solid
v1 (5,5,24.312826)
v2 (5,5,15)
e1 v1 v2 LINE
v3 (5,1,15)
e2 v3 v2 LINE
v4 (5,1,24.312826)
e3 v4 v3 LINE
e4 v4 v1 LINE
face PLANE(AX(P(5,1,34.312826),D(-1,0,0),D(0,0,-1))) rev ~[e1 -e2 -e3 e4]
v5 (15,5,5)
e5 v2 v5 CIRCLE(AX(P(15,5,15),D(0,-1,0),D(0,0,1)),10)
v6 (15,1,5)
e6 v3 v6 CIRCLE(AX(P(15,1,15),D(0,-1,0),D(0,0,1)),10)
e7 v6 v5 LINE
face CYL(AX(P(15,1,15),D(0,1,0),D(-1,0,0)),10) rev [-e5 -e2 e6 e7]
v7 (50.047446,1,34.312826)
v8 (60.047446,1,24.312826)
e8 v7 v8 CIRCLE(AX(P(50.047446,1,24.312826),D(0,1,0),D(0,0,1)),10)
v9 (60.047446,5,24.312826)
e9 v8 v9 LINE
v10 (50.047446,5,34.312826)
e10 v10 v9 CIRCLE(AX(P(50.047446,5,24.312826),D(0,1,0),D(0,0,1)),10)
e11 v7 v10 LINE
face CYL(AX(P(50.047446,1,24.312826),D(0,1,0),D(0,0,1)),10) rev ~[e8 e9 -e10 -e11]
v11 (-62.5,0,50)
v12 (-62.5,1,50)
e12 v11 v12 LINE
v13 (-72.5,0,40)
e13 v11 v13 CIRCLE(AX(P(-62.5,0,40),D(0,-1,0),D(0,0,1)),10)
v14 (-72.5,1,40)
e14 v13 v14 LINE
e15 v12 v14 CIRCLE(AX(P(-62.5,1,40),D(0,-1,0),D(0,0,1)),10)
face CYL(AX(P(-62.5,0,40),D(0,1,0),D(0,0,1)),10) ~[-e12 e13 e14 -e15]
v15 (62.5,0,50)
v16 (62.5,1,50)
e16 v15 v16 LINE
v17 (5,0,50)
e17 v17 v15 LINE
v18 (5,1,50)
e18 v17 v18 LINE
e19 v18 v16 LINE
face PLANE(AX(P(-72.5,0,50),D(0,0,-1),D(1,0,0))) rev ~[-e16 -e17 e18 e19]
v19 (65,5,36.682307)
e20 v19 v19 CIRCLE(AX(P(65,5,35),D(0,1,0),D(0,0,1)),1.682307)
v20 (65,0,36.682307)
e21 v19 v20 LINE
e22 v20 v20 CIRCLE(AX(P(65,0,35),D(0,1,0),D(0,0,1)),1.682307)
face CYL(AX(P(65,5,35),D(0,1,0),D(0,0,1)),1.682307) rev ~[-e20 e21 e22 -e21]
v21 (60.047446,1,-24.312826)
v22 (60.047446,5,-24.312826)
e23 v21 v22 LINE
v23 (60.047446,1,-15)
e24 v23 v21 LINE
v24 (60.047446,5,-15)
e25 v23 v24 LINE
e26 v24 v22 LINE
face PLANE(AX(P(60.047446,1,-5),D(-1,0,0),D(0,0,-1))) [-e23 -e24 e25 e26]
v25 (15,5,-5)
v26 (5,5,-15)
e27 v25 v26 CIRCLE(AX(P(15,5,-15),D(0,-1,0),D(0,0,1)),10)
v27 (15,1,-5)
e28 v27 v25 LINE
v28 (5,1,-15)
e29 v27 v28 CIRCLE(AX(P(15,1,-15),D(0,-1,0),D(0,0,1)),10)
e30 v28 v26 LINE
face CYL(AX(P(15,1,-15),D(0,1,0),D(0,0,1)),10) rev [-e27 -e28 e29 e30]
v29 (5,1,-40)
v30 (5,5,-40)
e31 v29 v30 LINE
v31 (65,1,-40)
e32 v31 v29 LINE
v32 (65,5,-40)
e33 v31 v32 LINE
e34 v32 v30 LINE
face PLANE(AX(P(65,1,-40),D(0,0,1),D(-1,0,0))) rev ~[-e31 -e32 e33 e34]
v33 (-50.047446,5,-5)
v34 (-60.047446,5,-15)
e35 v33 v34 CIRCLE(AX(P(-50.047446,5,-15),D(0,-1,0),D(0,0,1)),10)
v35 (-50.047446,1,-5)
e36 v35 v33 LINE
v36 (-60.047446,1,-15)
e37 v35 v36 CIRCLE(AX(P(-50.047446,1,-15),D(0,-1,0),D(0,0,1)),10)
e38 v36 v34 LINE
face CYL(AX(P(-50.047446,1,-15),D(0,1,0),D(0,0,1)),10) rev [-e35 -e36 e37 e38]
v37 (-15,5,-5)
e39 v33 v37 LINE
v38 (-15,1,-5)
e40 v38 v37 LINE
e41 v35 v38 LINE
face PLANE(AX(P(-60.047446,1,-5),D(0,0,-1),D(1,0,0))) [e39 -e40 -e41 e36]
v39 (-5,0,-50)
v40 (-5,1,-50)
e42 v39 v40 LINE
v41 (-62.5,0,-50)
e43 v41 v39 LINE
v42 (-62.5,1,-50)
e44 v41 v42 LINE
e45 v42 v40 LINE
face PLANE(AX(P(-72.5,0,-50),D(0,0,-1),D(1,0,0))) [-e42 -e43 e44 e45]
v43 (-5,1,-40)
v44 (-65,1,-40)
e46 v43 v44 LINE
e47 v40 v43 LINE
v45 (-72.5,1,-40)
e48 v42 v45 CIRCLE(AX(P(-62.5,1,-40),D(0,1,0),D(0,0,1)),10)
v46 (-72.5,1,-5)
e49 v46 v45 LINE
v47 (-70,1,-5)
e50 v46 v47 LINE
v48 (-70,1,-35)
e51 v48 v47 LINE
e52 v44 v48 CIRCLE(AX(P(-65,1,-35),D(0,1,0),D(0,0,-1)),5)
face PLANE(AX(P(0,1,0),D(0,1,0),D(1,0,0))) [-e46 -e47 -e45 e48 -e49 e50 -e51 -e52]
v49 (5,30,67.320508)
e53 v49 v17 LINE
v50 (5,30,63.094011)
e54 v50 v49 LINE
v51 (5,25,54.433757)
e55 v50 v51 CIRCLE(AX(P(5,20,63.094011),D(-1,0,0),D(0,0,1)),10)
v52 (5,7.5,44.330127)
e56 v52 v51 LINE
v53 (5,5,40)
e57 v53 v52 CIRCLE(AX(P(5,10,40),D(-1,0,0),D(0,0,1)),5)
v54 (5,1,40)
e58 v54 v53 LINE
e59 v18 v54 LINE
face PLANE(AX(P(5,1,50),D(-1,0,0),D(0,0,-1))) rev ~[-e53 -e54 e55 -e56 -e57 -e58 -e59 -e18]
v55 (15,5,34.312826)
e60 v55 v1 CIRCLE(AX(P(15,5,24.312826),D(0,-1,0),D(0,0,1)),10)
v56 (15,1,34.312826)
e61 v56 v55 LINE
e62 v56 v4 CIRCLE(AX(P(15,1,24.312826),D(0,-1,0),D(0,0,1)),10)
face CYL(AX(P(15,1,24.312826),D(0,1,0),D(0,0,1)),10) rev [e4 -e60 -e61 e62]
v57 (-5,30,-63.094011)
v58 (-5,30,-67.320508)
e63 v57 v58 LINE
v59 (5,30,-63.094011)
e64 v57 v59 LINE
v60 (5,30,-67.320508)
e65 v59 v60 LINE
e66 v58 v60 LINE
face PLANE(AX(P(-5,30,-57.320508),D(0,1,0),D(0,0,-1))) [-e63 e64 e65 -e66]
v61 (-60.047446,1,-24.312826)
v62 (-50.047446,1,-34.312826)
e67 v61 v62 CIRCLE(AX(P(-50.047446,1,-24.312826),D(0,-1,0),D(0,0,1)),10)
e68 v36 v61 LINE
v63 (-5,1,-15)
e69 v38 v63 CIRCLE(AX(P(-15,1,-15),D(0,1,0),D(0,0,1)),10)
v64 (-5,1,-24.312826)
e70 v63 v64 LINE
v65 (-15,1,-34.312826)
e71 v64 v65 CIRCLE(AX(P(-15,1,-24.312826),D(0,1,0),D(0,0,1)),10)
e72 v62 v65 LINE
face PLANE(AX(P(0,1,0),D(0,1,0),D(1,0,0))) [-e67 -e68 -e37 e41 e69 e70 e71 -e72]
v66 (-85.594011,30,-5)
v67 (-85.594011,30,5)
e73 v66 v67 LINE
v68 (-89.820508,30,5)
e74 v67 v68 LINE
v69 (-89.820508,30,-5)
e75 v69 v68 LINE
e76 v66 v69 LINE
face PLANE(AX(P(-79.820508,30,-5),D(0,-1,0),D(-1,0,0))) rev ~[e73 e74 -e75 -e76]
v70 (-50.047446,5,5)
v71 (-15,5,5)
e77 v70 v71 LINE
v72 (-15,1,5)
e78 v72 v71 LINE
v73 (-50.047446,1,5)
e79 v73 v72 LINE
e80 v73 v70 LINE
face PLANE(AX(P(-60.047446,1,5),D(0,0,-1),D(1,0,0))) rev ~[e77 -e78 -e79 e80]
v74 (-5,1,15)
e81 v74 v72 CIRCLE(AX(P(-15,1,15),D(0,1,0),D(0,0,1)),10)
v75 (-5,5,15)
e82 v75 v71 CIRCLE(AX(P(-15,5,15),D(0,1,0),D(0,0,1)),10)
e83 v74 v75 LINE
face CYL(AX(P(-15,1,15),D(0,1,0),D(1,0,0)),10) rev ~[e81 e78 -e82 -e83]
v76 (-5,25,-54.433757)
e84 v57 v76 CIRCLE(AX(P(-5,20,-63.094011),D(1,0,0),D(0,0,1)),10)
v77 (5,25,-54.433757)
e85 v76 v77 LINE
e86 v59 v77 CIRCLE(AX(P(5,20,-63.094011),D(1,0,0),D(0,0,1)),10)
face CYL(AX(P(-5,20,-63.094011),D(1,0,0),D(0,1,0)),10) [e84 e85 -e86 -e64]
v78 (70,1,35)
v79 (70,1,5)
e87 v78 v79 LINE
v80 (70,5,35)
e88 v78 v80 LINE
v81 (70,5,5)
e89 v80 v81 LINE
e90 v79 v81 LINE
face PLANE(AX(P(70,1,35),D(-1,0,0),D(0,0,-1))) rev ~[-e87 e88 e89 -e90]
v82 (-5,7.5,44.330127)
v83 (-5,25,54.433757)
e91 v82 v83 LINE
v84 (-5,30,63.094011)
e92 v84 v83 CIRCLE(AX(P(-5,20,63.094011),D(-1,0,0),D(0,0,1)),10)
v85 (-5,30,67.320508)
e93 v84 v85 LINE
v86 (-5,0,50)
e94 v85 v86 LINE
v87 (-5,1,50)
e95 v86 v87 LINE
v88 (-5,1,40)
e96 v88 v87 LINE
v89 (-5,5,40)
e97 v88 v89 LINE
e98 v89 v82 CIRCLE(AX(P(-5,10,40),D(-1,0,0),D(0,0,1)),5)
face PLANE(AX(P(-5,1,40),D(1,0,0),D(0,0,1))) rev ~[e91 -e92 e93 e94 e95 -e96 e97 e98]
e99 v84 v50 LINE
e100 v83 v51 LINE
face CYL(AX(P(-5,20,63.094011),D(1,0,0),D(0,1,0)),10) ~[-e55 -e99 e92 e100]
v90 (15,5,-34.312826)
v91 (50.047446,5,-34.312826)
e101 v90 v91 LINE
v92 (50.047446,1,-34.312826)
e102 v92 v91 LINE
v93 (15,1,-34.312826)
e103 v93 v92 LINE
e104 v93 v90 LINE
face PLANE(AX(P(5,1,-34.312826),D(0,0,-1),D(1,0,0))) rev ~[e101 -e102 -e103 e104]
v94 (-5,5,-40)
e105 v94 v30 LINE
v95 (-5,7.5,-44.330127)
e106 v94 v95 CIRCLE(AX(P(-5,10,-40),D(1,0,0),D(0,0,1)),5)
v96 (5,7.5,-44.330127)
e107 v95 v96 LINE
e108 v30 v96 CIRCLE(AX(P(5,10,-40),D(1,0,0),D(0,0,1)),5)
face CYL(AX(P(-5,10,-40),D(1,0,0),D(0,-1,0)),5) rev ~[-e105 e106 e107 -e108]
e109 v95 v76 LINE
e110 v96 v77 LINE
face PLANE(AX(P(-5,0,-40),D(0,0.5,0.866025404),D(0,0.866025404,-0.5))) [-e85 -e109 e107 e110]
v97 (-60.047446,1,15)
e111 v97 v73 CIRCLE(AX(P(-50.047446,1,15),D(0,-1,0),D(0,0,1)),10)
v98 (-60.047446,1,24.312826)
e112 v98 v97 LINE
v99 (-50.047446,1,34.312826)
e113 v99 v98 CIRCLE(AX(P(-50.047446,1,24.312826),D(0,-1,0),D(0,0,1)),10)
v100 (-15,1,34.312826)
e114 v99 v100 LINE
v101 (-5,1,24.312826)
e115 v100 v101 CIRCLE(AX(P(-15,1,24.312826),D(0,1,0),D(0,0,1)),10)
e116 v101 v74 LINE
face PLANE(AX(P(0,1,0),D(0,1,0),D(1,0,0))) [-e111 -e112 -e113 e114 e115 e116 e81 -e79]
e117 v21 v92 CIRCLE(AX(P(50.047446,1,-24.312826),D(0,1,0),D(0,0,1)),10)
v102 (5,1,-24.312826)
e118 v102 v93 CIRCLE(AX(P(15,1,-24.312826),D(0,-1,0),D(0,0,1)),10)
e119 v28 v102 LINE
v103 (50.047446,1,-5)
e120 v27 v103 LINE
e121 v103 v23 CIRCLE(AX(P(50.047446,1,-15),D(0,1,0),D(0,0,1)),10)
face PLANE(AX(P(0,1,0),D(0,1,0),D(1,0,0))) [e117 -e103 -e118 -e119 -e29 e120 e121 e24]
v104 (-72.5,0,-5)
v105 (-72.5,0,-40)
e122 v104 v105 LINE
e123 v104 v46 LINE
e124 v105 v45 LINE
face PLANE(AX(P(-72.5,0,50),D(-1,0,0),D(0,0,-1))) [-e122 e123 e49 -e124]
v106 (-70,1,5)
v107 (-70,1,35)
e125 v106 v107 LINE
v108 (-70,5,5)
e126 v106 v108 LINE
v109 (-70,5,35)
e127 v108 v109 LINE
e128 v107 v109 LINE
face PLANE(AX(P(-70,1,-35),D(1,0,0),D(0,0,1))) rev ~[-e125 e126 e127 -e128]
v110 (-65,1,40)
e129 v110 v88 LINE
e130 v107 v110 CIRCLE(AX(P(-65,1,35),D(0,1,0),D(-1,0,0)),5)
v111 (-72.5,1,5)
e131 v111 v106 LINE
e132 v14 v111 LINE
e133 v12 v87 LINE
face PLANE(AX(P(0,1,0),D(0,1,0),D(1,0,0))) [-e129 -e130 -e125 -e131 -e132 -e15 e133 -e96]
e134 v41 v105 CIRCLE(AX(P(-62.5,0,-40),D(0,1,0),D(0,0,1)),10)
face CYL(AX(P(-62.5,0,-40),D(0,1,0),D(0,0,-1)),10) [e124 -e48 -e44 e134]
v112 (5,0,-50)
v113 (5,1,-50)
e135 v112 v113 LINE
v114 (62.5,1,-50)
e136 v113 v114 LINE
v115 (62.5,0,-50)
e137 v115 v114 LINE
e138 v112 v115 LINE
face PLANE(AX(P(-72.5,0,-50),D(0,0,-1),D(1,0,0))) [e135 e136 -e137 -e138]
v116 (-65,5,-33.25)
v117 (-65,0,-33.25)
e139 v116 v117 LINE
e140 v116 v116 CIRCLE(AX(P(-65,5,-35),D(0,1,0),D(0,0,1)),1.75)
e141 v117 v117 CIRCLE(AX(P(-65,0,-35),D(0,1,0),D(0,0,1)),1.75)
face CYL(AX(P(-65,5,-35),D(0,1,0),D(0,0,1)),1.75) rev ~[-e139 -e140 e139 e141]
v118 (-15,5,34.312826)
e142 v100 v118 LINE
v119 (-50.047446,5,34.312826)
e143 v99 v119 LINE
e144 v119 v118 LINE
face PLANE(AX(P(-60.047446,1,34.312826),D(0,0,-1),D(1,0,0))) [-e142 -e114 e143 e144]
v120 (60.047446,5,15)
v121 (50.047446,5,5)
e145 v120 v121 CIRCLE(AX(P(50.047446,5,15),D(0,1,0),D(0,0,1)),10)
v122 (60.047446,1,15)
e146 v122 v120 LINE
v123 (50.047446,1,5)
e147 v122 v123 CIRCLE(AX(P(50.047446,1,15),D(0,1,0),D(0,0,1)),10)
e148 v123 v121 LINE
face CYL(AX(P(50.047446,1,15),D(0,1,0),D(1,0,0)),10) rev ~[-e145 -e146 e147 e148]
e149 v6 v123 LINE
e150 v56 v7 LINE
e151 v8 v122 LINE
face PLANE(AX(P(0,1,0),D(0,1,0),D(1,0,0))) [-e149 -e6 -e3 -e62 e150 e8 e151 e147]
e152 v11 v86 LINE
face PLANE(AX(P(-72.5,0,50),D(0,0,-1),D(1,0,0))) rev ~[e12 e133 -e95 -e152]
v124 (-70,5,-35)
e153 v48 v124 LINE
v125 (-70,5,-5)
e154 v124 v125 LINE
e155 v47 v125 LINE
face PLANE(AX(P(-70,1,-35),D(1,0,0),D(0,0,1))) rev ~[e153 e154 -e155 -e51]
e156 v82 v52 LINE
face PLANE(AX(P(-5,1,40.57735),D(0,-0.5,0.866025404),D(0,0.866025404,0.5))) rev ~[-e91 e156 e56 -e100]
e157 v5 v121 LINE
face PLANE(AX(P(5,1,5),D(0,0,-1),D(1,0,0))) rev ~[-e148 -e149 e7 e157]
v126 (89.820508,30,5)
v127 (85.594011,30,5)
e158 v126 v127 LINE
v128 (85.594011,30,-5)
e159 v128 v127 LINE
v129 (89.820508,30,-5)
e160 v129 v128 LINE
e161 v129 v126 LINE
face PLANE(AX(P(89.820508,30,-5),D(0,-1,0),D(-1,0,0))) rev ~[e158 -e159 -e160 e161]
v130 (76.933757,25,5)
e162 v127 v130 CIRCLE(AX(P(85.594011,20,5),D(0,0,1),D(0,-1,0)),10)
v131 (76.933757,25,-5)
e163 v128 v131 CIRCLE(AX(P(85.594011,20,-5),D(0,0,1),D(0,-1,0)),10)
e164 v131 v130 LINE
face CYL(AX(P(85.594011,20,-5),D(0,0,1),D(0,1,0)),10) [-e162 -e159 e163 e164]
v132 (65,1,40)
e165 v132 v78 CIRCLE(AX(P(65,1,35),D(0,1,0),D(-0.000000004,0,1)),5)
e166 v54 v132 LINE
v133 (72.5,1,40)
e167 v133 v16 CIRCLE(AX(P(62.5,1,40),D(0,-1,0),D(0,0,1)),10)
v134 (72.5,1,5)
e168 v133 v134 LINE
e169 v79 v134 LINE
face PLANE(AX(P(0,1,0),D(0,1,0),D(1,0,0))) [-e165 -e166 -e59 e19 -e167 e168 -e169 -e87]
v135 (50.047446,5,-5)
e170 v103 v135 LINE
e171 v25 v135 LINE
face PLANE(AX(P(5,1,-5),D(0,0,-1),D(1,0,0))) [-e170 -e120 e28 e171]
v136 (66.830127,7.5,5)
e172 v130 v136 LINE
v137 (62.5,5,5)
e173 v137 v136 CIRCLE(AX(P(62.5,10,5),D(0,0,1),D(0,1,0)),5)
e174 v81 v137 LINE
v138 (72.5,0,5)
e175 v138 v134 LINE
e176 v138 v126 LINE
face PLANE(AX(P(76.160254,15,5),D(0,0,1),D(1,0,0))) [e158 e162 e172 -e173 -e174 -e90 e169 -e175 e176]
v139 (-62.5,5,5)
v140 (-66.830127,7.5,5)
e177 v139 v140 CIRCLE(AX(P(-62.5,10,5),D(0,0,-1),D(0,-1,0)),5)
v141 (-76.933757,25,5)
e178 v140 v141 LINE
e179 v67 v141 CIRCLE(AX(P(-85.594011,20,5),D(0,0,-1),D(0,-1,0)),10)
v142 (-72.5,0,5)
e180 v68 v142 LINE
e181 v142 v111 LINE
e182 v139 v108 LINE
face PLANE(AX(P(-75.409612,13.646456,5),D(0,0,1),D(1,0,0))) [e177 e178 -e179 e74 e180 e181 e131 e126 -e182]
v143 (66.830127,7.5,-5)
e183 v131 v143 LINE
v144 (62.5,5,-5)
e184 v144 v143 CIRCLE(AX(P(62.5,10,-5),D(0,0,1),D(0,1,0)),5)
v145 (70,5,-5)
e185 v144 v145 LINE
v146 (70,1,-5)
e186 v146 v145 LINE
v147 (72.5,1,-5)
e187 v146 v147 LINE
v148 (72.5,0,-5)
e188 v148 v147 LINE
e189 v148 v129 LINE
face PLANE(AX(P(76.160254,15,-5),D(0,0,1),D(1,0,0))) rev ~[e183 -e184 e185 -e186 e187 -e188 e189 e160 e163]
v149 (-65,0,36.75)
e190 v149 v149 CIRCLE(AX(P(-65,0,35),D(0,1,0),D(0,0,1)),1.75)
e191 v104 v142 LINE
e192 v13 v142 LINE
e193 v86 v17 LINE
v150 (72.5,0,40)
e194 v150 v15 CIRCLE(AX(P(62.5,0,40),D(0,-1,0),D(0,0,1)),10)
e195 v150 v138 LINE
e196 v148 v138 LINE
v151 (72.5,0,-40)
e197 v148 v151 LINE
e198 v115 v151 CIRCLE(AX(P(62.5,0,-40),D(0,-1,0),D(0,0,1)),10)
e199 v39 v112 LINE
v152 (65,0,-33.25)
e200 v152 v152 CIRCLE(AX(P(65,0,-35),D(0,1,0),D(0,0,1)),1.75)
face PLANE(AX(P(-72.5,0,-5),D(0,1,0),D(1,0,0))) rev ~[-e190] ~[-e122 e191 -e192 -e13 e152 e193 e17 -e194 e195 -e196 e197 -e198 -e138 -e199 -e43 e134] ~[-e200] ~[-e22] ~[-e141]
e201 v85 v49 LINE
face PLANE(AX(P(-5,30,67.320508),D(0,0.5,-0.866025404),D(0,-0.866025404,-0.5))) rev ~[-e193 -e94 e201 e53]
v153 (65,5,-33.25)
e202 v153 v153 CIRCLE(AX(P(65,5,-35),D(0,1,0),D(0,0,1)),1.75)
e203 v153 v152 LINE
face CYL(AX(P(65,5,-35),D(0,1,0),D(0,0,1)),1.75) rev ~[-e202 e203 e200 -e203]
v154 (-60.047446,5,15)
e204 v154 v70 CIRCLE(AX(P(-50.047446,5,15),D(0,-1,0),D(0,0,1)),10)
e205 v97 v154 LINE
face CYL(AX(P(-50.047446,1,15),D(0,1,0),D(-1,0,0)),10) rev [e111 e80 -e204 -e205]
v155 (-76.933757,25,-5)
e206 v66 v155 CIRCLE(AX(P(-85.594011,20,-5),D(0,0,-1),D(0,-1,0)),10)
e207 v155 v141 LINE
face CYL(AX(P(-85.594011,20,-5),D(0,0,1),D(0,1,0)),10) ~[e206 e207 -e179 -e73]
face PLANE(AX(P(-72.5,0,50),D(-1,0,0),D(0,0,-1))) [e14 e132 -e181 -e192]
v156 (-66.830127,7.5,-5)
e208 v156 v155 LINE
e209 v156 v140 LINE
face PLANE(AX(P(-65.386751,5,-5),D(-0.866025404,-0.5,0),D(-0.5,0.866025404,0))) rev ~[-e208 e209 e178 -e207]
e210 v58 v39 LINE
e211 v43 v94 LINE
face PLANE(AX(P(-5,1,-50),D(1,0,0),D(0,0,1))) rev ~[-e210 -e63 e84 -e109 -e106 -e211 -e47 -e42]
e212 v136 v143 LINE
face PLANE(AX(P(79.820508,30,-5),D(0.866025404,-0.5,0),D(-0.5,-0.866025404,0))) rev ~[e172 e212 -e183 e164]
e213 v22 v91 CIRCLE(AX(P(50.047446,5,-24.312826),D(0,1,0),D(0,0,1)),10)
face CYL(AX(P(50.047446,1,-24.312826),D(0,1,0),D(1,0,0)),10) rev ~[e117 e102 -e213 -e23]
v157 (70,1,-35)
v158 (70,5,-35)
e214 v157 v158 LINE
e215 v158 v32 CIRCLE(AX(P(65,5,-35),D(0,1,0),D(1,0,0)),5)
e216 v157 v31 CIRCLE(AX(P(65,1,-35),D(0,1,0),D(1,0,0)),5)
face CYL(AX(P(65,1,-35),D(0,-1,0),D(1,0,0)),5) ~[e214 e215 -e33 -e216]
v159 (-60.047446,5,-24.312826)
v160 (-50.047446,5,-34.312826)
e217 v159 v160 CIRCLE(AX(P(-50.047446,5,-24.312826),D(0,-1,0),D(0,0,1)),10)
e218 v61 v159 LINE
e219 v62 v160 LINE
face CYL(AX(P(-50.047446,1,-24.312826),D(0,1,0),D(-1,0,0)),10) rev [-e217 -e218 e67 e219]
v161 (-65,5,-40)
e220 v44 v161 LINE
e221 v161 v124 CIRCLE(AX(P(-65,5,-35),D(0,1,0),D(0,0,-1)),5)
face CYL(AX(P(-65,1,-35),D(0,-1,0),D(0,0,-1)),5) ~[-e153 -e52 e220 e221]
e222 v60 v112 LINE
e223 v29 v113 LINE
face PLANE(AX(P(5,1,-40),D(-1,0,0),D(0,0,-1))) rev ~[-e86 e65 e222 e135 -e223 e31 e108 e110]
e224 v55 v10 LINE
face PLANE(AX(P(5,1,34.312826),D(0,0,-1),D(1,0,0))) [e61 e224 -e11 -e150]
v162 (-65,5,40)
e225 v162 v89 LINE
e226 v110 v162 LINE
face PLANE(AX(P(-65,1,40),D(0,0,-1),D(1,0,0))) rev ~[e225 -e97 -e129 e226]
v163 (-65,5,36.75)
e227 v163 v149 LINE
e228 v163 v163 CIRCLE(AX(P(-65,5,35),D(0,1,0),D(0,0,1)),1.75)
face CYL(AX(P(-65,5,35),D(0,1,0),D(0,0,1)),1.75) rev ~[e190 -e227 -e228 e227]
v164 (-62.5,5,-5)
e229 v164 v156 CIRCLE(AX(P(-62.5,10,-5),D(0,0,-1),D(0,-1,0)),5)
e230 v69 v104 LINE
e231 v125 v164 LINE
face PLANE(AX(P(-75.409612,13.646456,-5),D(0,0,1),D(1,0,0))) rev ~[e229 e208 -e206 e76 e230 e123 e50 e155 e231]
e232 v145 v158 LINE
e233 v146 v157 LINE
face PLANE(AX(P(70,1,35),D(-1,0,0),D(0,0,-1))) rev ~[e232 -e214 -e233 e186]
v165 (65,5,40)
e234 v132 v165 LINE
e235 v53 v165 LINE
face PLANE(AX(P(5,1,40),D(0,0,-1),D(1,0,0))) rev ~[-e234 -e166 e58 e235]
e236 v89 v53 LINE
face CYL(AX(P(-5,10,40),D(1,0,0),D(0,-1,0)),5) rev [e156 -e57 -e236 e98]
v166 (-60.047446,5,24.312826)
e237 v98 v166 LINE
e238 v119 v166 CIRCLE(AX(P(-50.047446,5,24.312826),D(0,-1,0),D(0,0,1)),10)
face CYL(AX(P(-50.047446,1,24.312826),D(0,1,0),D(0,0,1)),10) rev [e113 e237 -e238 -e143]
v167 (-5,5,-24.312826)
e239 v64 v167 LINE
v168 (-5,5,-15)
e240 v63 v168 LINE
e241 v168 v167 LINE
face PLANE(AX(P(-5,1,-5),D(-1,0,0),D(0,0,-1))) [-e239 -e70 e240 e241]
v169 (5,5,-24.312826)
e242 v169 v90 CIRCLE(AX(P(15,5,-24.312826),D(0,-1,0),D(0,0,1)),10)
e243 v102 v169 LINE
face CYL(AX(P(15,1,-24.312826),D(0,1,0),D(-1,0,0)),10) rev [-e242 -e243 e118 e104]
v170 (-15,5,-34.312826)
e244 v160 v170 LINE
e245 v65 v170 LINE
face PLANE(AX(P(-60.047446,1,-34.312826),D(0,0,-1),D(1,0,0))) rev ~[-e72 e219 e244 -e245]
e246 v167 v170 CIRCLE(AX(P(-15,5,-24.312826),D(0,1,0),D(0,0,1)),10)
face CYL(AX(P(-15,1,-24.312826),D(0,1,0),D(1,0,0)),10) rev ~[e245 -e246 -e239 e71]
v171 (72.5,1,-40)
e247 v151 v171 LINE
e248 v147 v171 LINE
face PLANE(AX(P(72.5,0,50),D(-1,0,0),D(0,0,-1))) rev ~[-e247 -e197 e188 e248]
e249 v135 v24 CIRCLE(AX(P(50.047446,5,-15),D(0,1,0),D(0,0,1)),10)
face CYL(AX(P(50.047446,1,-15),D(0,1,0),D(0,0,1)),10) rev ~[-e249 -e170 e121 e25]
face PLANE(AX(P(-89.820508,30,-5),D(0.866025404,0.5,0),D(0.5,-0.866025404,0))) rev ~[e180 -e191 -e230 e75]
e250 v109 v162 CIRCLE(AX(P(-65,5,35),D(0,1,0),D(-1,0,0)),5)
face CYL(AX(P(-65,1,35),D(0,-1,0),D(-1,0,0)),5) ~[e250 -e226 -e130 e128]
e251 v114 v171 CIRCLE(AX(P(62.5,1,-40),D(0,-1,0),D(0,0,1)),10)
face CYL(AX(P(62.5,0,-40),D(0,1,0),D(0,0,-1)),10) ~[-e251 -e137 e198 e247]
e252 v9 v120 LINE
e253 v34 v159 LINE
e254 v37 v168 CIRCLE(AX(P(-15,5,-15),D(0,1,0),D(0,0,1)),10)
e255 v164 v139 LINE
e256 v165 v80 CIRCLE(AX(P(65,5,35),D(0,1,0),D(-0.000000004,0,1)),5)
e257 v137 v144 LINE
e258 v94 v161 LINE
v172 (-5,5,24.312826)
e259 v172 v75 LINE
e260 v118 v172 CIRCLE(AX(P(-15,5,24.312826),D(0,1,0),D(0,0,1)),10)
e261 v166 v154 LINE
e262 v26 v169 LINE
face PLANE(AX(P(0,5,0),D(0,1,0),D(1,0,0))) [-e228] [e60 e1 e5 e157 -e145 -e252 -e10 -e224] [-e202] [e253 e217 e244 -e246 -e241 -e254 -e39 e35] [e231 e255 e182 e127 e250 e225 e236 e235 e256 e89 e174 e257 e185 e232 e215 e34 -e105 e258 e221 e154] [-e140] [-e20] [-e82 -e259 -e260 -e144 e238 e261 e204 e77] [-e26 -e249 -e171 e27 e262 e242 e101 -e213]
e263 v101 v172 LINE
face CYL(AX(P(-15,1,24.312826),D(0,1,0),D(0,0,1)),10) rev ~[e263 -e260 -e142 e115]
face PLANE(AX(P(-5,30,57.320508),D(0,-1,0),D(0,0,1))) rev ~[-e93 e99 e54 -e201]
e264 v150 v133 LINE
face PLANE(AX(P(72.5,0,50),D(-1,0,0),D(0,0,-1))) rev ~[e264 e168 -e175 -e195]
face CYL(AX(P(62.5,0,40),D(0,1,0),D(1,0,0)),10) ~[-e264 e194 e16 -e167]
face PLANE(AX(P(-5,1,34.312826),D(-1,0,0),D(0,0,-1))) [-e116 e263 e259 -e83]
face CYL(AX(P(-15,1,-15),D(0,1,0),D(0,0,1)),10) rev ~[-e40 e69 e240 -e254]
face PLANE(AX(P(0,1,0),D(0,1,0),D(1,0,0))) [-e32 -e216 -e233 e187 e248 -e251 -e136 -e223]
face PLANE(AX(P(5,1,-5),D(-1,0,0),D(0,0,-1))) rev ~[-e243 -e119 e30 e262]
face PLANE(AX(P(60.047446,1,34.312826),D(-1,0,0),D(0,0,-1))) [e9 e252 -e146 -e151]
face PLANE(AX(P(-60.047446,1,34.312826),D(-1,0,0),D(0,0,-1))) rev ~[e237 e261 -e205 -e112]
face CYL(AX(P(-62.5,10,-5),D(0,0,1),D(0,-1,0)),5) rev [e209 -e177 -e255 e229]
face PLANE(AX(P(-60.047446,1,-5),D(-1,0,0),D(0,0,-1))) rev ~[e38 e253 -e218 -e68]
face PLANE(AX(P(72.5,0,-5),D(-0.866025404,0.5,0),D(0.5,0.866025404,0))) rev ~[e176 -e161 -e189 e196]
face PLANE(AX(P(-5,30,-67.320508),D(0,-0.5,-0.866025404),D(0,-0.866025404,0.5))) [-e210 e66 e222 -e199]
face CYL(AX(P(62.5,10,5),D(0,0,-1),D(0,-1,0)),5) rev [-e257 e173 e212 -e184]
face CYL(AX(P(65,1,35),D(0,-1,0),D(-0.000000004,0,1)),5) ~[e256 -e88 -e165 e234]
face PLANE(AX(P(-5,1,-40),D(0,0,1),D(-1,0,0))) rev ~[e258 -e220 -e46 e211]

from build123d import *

# Parameters (mm, degrees)
SKETCH_1_W           = 145
SKETCH_1_H           = 100
EXTRUDE_1_DEPTH      = 1
SKETCH_2_W           = 55.047445891
SKETCH_2_H           = 29.312826224
EXTRUDE_2_DEPTH      = 4
SKETCH_3_R           = 1.75
SKETCH_3_R_2         = 1.682307007
CUT_EXTRUDE_1_DEPTH  = 89.211393822
EXTRUDE_3_DEPTH      = 5
EXTRUDE_3_DEPTH_BACK = 5
EXTRUDE_4_DEPTH      = 5
EXTRUDE_4_DEPTH_BACK = 5
FILLET_1_R           = 10
FILLET_3_R           = 10
FILLET_4_R           = 5
FILLET_5_R           = 10


with BuildPart() as part:
    # Эскиз1 → Бобышка-Вытянуть1 (new body)
    with BuildSketch(Plane(origin=(0, 0, 0), x_dir=(1, 0, 0), z_dir=(0, 1, 0))):
        Rectangle(SKETCH_1_W, SKETCH_1_H)
    extrude(amount=EXTRUDE_1_DEPTH)

    # Эскиз2 → Бобышка-Вытянуть2 (add)
    with BuildSketch(Plane(origin=(0, 1, 0), x_dir=(1, 0, 0), z_dir=(0, 1, 0))):
        with BuildLine():
            Line((70, -35), (70, 35))
            ThreePointArc((70, 35), (68.535533919, 38.535533893), (65.000000038, 40))
            Line((65.000000038, 40), (5, 40))
            Line((5, 40), (5, 50))
            Line((5, 50), (-5, 50))
            Line((-5, 50), (-5, 40))
            Line((-5, 40), (-65, 40))
            ThreePointArc((-65, 40), (-68.535533906, 38.535533906), (-70, 35))
            Line((-70, 35), (-70, -35))
            ThreePointArc((-70, -35), (-68.535533906, -38.535533906), (-65, -40))
            Line((-65, -40), (-5, -40))
            Line((-5, -40), (-5, -50))
            Line((-5, -50), (5, -50))
            Line((5, -50), (5, -40))
            Line((5, -40), (64.999999981, -40))
            ThreePointArc((64.999999981, -40), (68.535533899, -38.535533913), (70, -35))
        make_face()
        with Locations((-32.523722945, -19.656413112)):
            Rectangle(SKETCH_2_W, SKETCH_2_H, mode=Mode.SUBTRACT)
        with Locations((32.523722945, -19.656413112)):
            Rectangle(SKETCH_2_W, SKETCH_2_H, mode=Mode.SUBTRACT)
        with Locations((-32.523722945, 19.656413112)):
            Rectangle(SKETCH_2_W, SKETCH_2_H, mode=Mode.SUBTRACT)
        with Locations((32.523722945, 19.656413112)):
            Rectangle(SKETCH_2_W, SKETCH_2_H, mode=Mode.SUBTRACT)
    extrude(amount=EXTRUDE_2_DEPTH)

    # Эскиз3 → Вырез-Вытянуть1 (cut, through all)
    with BuildSketch(Plane(origin=(0, 5, 0), x_dir=(1, 0, 0), z_dir=(0, 1, 0))):
        with Locations(Location((-65, 35, 0), (0, 0, 270))):
            Circle(SKETCH_3_R)
        with Locations(Location((-65, -35, 0), (0, 0, 270))):
            Circle(SKETCH_3_R)
        with Locations(Location((65, -35, 0), (0, 0, 270))):
            Circle(SKETCH_3_R_2)
        with Locations(Location((65, 35, 0), (0, 0, 270))):
            Circle(SKETCH_3_R)
    extrude(amount=-CUT_EXTRUDE_1_DEPTH, mode=Mode.SUBTRACT)

    # Эскиз4 → Бобышка-Вытянуть3 (add, two sides: drawn at the far end of the back side and taken through both)
    with BuildSketch(Plane.XY.offset(-EXTRUDE_3_DEPTH_BACK)):
        Polygon((-72.5, 0), (-62.5, 0), (-63.077350269, 1), (-70, 1), (-70, 5), (-65.386751346, 5), (-79.820508076, 30), (-89.820508076, 30), align=None)
        Polygon((79.820508076, 30), (62.5, 0), (72.5, 0), (89.820508076, 30), align=None)
    extrude(amount=EXTRUDE_3_DEPTH + EXTRUDE_3_DEPTH_BACK)

    # Эскиз5 → Бобышка-Вытянуть4 (add, two sides: drawn at the far end of the back side and taken through both)
    with BuildSketch(Plane(origin=(0, 0, 0), x_dir=(0, 0, -1), z_dir=(1, 0, 0)).offset(-EXTRUDE_4_DEPTH_BACK)):
        Polygon((-50, 1), (-40.577350269, 1), (-57.320508076, 30), (-67.320508076, 30), (-50, 0), align=None)
        Polygon((50, 0), (40, 0), (57.320508076, 30), (67.320508076, 30), align=None)
    extrude(amount=EXTRUDE_4_DEPTH + EXTRUDE_4_DEPTH_BACK)

    # Скругление1
    fillet_1_edges = [part.edges().sort_by_distance(p)[0] for p in [
        (72.5, 0.5, 50),
        (-72.5, 0.5, 50),
        (-72.5, 0.5, -50),
        (72.5, 0.5, -50),
    ]]
    fillet(fillet_1_edges, radius=FILLET_1_R)

    # Скругление3
    fillet_3_edges = [part.edges().sort_by_distance(p)[0] for p in [
        (5, 3, -34.312826224),
        (60.047445891, 3, -34.312826224),
        (60.047445891, 3, 5),
        (60.047445891, 3, 34.312826224),
        (-5, 3, 5),
        (-60.047445891, 3, 5),
        (-5, 3, 34.312826224),
        (-60.047445891, 3, 34.312826224),
        (-60.047445891, 3, -5),
        (-60.047445891, 3, -34.312826224),
        (5, 3, -5),
        (60.047445891, 3, -5),
        (-5, 3, -34.312826224),
        (-5, 3, -5),
        (5, 3, 34.312826224),
        (5, 3, 5),
    ]]
    fillet(fillet_3_edges, radius=FILLET_3_R)

    # Скругление4
    fillet_4_edges = [part.edges().sort_by_distance(p)[0] for p in [
        (0, 5, 42.886751346),
        (-65.386751346, 5, 0),
        (65.386751346, 5, 0),
        (0, 5, -42.886751346),
    ]]
    fillet(fillet_4_edges, radius=FILLET_4_R)

    # Скругление5
    fillet_5_edges = [part.edges().sort_by_distance(p)[0] for p in [
        (-79.820508076, 30, 0),
        (79.820508076, 30, 0),
        (0, 30, 57.320508076),
        (0, 30, -57.320508076),
    ]]
    fillet(fillet_5_edges, radius=FILLET_5_R)


solid = part.part
